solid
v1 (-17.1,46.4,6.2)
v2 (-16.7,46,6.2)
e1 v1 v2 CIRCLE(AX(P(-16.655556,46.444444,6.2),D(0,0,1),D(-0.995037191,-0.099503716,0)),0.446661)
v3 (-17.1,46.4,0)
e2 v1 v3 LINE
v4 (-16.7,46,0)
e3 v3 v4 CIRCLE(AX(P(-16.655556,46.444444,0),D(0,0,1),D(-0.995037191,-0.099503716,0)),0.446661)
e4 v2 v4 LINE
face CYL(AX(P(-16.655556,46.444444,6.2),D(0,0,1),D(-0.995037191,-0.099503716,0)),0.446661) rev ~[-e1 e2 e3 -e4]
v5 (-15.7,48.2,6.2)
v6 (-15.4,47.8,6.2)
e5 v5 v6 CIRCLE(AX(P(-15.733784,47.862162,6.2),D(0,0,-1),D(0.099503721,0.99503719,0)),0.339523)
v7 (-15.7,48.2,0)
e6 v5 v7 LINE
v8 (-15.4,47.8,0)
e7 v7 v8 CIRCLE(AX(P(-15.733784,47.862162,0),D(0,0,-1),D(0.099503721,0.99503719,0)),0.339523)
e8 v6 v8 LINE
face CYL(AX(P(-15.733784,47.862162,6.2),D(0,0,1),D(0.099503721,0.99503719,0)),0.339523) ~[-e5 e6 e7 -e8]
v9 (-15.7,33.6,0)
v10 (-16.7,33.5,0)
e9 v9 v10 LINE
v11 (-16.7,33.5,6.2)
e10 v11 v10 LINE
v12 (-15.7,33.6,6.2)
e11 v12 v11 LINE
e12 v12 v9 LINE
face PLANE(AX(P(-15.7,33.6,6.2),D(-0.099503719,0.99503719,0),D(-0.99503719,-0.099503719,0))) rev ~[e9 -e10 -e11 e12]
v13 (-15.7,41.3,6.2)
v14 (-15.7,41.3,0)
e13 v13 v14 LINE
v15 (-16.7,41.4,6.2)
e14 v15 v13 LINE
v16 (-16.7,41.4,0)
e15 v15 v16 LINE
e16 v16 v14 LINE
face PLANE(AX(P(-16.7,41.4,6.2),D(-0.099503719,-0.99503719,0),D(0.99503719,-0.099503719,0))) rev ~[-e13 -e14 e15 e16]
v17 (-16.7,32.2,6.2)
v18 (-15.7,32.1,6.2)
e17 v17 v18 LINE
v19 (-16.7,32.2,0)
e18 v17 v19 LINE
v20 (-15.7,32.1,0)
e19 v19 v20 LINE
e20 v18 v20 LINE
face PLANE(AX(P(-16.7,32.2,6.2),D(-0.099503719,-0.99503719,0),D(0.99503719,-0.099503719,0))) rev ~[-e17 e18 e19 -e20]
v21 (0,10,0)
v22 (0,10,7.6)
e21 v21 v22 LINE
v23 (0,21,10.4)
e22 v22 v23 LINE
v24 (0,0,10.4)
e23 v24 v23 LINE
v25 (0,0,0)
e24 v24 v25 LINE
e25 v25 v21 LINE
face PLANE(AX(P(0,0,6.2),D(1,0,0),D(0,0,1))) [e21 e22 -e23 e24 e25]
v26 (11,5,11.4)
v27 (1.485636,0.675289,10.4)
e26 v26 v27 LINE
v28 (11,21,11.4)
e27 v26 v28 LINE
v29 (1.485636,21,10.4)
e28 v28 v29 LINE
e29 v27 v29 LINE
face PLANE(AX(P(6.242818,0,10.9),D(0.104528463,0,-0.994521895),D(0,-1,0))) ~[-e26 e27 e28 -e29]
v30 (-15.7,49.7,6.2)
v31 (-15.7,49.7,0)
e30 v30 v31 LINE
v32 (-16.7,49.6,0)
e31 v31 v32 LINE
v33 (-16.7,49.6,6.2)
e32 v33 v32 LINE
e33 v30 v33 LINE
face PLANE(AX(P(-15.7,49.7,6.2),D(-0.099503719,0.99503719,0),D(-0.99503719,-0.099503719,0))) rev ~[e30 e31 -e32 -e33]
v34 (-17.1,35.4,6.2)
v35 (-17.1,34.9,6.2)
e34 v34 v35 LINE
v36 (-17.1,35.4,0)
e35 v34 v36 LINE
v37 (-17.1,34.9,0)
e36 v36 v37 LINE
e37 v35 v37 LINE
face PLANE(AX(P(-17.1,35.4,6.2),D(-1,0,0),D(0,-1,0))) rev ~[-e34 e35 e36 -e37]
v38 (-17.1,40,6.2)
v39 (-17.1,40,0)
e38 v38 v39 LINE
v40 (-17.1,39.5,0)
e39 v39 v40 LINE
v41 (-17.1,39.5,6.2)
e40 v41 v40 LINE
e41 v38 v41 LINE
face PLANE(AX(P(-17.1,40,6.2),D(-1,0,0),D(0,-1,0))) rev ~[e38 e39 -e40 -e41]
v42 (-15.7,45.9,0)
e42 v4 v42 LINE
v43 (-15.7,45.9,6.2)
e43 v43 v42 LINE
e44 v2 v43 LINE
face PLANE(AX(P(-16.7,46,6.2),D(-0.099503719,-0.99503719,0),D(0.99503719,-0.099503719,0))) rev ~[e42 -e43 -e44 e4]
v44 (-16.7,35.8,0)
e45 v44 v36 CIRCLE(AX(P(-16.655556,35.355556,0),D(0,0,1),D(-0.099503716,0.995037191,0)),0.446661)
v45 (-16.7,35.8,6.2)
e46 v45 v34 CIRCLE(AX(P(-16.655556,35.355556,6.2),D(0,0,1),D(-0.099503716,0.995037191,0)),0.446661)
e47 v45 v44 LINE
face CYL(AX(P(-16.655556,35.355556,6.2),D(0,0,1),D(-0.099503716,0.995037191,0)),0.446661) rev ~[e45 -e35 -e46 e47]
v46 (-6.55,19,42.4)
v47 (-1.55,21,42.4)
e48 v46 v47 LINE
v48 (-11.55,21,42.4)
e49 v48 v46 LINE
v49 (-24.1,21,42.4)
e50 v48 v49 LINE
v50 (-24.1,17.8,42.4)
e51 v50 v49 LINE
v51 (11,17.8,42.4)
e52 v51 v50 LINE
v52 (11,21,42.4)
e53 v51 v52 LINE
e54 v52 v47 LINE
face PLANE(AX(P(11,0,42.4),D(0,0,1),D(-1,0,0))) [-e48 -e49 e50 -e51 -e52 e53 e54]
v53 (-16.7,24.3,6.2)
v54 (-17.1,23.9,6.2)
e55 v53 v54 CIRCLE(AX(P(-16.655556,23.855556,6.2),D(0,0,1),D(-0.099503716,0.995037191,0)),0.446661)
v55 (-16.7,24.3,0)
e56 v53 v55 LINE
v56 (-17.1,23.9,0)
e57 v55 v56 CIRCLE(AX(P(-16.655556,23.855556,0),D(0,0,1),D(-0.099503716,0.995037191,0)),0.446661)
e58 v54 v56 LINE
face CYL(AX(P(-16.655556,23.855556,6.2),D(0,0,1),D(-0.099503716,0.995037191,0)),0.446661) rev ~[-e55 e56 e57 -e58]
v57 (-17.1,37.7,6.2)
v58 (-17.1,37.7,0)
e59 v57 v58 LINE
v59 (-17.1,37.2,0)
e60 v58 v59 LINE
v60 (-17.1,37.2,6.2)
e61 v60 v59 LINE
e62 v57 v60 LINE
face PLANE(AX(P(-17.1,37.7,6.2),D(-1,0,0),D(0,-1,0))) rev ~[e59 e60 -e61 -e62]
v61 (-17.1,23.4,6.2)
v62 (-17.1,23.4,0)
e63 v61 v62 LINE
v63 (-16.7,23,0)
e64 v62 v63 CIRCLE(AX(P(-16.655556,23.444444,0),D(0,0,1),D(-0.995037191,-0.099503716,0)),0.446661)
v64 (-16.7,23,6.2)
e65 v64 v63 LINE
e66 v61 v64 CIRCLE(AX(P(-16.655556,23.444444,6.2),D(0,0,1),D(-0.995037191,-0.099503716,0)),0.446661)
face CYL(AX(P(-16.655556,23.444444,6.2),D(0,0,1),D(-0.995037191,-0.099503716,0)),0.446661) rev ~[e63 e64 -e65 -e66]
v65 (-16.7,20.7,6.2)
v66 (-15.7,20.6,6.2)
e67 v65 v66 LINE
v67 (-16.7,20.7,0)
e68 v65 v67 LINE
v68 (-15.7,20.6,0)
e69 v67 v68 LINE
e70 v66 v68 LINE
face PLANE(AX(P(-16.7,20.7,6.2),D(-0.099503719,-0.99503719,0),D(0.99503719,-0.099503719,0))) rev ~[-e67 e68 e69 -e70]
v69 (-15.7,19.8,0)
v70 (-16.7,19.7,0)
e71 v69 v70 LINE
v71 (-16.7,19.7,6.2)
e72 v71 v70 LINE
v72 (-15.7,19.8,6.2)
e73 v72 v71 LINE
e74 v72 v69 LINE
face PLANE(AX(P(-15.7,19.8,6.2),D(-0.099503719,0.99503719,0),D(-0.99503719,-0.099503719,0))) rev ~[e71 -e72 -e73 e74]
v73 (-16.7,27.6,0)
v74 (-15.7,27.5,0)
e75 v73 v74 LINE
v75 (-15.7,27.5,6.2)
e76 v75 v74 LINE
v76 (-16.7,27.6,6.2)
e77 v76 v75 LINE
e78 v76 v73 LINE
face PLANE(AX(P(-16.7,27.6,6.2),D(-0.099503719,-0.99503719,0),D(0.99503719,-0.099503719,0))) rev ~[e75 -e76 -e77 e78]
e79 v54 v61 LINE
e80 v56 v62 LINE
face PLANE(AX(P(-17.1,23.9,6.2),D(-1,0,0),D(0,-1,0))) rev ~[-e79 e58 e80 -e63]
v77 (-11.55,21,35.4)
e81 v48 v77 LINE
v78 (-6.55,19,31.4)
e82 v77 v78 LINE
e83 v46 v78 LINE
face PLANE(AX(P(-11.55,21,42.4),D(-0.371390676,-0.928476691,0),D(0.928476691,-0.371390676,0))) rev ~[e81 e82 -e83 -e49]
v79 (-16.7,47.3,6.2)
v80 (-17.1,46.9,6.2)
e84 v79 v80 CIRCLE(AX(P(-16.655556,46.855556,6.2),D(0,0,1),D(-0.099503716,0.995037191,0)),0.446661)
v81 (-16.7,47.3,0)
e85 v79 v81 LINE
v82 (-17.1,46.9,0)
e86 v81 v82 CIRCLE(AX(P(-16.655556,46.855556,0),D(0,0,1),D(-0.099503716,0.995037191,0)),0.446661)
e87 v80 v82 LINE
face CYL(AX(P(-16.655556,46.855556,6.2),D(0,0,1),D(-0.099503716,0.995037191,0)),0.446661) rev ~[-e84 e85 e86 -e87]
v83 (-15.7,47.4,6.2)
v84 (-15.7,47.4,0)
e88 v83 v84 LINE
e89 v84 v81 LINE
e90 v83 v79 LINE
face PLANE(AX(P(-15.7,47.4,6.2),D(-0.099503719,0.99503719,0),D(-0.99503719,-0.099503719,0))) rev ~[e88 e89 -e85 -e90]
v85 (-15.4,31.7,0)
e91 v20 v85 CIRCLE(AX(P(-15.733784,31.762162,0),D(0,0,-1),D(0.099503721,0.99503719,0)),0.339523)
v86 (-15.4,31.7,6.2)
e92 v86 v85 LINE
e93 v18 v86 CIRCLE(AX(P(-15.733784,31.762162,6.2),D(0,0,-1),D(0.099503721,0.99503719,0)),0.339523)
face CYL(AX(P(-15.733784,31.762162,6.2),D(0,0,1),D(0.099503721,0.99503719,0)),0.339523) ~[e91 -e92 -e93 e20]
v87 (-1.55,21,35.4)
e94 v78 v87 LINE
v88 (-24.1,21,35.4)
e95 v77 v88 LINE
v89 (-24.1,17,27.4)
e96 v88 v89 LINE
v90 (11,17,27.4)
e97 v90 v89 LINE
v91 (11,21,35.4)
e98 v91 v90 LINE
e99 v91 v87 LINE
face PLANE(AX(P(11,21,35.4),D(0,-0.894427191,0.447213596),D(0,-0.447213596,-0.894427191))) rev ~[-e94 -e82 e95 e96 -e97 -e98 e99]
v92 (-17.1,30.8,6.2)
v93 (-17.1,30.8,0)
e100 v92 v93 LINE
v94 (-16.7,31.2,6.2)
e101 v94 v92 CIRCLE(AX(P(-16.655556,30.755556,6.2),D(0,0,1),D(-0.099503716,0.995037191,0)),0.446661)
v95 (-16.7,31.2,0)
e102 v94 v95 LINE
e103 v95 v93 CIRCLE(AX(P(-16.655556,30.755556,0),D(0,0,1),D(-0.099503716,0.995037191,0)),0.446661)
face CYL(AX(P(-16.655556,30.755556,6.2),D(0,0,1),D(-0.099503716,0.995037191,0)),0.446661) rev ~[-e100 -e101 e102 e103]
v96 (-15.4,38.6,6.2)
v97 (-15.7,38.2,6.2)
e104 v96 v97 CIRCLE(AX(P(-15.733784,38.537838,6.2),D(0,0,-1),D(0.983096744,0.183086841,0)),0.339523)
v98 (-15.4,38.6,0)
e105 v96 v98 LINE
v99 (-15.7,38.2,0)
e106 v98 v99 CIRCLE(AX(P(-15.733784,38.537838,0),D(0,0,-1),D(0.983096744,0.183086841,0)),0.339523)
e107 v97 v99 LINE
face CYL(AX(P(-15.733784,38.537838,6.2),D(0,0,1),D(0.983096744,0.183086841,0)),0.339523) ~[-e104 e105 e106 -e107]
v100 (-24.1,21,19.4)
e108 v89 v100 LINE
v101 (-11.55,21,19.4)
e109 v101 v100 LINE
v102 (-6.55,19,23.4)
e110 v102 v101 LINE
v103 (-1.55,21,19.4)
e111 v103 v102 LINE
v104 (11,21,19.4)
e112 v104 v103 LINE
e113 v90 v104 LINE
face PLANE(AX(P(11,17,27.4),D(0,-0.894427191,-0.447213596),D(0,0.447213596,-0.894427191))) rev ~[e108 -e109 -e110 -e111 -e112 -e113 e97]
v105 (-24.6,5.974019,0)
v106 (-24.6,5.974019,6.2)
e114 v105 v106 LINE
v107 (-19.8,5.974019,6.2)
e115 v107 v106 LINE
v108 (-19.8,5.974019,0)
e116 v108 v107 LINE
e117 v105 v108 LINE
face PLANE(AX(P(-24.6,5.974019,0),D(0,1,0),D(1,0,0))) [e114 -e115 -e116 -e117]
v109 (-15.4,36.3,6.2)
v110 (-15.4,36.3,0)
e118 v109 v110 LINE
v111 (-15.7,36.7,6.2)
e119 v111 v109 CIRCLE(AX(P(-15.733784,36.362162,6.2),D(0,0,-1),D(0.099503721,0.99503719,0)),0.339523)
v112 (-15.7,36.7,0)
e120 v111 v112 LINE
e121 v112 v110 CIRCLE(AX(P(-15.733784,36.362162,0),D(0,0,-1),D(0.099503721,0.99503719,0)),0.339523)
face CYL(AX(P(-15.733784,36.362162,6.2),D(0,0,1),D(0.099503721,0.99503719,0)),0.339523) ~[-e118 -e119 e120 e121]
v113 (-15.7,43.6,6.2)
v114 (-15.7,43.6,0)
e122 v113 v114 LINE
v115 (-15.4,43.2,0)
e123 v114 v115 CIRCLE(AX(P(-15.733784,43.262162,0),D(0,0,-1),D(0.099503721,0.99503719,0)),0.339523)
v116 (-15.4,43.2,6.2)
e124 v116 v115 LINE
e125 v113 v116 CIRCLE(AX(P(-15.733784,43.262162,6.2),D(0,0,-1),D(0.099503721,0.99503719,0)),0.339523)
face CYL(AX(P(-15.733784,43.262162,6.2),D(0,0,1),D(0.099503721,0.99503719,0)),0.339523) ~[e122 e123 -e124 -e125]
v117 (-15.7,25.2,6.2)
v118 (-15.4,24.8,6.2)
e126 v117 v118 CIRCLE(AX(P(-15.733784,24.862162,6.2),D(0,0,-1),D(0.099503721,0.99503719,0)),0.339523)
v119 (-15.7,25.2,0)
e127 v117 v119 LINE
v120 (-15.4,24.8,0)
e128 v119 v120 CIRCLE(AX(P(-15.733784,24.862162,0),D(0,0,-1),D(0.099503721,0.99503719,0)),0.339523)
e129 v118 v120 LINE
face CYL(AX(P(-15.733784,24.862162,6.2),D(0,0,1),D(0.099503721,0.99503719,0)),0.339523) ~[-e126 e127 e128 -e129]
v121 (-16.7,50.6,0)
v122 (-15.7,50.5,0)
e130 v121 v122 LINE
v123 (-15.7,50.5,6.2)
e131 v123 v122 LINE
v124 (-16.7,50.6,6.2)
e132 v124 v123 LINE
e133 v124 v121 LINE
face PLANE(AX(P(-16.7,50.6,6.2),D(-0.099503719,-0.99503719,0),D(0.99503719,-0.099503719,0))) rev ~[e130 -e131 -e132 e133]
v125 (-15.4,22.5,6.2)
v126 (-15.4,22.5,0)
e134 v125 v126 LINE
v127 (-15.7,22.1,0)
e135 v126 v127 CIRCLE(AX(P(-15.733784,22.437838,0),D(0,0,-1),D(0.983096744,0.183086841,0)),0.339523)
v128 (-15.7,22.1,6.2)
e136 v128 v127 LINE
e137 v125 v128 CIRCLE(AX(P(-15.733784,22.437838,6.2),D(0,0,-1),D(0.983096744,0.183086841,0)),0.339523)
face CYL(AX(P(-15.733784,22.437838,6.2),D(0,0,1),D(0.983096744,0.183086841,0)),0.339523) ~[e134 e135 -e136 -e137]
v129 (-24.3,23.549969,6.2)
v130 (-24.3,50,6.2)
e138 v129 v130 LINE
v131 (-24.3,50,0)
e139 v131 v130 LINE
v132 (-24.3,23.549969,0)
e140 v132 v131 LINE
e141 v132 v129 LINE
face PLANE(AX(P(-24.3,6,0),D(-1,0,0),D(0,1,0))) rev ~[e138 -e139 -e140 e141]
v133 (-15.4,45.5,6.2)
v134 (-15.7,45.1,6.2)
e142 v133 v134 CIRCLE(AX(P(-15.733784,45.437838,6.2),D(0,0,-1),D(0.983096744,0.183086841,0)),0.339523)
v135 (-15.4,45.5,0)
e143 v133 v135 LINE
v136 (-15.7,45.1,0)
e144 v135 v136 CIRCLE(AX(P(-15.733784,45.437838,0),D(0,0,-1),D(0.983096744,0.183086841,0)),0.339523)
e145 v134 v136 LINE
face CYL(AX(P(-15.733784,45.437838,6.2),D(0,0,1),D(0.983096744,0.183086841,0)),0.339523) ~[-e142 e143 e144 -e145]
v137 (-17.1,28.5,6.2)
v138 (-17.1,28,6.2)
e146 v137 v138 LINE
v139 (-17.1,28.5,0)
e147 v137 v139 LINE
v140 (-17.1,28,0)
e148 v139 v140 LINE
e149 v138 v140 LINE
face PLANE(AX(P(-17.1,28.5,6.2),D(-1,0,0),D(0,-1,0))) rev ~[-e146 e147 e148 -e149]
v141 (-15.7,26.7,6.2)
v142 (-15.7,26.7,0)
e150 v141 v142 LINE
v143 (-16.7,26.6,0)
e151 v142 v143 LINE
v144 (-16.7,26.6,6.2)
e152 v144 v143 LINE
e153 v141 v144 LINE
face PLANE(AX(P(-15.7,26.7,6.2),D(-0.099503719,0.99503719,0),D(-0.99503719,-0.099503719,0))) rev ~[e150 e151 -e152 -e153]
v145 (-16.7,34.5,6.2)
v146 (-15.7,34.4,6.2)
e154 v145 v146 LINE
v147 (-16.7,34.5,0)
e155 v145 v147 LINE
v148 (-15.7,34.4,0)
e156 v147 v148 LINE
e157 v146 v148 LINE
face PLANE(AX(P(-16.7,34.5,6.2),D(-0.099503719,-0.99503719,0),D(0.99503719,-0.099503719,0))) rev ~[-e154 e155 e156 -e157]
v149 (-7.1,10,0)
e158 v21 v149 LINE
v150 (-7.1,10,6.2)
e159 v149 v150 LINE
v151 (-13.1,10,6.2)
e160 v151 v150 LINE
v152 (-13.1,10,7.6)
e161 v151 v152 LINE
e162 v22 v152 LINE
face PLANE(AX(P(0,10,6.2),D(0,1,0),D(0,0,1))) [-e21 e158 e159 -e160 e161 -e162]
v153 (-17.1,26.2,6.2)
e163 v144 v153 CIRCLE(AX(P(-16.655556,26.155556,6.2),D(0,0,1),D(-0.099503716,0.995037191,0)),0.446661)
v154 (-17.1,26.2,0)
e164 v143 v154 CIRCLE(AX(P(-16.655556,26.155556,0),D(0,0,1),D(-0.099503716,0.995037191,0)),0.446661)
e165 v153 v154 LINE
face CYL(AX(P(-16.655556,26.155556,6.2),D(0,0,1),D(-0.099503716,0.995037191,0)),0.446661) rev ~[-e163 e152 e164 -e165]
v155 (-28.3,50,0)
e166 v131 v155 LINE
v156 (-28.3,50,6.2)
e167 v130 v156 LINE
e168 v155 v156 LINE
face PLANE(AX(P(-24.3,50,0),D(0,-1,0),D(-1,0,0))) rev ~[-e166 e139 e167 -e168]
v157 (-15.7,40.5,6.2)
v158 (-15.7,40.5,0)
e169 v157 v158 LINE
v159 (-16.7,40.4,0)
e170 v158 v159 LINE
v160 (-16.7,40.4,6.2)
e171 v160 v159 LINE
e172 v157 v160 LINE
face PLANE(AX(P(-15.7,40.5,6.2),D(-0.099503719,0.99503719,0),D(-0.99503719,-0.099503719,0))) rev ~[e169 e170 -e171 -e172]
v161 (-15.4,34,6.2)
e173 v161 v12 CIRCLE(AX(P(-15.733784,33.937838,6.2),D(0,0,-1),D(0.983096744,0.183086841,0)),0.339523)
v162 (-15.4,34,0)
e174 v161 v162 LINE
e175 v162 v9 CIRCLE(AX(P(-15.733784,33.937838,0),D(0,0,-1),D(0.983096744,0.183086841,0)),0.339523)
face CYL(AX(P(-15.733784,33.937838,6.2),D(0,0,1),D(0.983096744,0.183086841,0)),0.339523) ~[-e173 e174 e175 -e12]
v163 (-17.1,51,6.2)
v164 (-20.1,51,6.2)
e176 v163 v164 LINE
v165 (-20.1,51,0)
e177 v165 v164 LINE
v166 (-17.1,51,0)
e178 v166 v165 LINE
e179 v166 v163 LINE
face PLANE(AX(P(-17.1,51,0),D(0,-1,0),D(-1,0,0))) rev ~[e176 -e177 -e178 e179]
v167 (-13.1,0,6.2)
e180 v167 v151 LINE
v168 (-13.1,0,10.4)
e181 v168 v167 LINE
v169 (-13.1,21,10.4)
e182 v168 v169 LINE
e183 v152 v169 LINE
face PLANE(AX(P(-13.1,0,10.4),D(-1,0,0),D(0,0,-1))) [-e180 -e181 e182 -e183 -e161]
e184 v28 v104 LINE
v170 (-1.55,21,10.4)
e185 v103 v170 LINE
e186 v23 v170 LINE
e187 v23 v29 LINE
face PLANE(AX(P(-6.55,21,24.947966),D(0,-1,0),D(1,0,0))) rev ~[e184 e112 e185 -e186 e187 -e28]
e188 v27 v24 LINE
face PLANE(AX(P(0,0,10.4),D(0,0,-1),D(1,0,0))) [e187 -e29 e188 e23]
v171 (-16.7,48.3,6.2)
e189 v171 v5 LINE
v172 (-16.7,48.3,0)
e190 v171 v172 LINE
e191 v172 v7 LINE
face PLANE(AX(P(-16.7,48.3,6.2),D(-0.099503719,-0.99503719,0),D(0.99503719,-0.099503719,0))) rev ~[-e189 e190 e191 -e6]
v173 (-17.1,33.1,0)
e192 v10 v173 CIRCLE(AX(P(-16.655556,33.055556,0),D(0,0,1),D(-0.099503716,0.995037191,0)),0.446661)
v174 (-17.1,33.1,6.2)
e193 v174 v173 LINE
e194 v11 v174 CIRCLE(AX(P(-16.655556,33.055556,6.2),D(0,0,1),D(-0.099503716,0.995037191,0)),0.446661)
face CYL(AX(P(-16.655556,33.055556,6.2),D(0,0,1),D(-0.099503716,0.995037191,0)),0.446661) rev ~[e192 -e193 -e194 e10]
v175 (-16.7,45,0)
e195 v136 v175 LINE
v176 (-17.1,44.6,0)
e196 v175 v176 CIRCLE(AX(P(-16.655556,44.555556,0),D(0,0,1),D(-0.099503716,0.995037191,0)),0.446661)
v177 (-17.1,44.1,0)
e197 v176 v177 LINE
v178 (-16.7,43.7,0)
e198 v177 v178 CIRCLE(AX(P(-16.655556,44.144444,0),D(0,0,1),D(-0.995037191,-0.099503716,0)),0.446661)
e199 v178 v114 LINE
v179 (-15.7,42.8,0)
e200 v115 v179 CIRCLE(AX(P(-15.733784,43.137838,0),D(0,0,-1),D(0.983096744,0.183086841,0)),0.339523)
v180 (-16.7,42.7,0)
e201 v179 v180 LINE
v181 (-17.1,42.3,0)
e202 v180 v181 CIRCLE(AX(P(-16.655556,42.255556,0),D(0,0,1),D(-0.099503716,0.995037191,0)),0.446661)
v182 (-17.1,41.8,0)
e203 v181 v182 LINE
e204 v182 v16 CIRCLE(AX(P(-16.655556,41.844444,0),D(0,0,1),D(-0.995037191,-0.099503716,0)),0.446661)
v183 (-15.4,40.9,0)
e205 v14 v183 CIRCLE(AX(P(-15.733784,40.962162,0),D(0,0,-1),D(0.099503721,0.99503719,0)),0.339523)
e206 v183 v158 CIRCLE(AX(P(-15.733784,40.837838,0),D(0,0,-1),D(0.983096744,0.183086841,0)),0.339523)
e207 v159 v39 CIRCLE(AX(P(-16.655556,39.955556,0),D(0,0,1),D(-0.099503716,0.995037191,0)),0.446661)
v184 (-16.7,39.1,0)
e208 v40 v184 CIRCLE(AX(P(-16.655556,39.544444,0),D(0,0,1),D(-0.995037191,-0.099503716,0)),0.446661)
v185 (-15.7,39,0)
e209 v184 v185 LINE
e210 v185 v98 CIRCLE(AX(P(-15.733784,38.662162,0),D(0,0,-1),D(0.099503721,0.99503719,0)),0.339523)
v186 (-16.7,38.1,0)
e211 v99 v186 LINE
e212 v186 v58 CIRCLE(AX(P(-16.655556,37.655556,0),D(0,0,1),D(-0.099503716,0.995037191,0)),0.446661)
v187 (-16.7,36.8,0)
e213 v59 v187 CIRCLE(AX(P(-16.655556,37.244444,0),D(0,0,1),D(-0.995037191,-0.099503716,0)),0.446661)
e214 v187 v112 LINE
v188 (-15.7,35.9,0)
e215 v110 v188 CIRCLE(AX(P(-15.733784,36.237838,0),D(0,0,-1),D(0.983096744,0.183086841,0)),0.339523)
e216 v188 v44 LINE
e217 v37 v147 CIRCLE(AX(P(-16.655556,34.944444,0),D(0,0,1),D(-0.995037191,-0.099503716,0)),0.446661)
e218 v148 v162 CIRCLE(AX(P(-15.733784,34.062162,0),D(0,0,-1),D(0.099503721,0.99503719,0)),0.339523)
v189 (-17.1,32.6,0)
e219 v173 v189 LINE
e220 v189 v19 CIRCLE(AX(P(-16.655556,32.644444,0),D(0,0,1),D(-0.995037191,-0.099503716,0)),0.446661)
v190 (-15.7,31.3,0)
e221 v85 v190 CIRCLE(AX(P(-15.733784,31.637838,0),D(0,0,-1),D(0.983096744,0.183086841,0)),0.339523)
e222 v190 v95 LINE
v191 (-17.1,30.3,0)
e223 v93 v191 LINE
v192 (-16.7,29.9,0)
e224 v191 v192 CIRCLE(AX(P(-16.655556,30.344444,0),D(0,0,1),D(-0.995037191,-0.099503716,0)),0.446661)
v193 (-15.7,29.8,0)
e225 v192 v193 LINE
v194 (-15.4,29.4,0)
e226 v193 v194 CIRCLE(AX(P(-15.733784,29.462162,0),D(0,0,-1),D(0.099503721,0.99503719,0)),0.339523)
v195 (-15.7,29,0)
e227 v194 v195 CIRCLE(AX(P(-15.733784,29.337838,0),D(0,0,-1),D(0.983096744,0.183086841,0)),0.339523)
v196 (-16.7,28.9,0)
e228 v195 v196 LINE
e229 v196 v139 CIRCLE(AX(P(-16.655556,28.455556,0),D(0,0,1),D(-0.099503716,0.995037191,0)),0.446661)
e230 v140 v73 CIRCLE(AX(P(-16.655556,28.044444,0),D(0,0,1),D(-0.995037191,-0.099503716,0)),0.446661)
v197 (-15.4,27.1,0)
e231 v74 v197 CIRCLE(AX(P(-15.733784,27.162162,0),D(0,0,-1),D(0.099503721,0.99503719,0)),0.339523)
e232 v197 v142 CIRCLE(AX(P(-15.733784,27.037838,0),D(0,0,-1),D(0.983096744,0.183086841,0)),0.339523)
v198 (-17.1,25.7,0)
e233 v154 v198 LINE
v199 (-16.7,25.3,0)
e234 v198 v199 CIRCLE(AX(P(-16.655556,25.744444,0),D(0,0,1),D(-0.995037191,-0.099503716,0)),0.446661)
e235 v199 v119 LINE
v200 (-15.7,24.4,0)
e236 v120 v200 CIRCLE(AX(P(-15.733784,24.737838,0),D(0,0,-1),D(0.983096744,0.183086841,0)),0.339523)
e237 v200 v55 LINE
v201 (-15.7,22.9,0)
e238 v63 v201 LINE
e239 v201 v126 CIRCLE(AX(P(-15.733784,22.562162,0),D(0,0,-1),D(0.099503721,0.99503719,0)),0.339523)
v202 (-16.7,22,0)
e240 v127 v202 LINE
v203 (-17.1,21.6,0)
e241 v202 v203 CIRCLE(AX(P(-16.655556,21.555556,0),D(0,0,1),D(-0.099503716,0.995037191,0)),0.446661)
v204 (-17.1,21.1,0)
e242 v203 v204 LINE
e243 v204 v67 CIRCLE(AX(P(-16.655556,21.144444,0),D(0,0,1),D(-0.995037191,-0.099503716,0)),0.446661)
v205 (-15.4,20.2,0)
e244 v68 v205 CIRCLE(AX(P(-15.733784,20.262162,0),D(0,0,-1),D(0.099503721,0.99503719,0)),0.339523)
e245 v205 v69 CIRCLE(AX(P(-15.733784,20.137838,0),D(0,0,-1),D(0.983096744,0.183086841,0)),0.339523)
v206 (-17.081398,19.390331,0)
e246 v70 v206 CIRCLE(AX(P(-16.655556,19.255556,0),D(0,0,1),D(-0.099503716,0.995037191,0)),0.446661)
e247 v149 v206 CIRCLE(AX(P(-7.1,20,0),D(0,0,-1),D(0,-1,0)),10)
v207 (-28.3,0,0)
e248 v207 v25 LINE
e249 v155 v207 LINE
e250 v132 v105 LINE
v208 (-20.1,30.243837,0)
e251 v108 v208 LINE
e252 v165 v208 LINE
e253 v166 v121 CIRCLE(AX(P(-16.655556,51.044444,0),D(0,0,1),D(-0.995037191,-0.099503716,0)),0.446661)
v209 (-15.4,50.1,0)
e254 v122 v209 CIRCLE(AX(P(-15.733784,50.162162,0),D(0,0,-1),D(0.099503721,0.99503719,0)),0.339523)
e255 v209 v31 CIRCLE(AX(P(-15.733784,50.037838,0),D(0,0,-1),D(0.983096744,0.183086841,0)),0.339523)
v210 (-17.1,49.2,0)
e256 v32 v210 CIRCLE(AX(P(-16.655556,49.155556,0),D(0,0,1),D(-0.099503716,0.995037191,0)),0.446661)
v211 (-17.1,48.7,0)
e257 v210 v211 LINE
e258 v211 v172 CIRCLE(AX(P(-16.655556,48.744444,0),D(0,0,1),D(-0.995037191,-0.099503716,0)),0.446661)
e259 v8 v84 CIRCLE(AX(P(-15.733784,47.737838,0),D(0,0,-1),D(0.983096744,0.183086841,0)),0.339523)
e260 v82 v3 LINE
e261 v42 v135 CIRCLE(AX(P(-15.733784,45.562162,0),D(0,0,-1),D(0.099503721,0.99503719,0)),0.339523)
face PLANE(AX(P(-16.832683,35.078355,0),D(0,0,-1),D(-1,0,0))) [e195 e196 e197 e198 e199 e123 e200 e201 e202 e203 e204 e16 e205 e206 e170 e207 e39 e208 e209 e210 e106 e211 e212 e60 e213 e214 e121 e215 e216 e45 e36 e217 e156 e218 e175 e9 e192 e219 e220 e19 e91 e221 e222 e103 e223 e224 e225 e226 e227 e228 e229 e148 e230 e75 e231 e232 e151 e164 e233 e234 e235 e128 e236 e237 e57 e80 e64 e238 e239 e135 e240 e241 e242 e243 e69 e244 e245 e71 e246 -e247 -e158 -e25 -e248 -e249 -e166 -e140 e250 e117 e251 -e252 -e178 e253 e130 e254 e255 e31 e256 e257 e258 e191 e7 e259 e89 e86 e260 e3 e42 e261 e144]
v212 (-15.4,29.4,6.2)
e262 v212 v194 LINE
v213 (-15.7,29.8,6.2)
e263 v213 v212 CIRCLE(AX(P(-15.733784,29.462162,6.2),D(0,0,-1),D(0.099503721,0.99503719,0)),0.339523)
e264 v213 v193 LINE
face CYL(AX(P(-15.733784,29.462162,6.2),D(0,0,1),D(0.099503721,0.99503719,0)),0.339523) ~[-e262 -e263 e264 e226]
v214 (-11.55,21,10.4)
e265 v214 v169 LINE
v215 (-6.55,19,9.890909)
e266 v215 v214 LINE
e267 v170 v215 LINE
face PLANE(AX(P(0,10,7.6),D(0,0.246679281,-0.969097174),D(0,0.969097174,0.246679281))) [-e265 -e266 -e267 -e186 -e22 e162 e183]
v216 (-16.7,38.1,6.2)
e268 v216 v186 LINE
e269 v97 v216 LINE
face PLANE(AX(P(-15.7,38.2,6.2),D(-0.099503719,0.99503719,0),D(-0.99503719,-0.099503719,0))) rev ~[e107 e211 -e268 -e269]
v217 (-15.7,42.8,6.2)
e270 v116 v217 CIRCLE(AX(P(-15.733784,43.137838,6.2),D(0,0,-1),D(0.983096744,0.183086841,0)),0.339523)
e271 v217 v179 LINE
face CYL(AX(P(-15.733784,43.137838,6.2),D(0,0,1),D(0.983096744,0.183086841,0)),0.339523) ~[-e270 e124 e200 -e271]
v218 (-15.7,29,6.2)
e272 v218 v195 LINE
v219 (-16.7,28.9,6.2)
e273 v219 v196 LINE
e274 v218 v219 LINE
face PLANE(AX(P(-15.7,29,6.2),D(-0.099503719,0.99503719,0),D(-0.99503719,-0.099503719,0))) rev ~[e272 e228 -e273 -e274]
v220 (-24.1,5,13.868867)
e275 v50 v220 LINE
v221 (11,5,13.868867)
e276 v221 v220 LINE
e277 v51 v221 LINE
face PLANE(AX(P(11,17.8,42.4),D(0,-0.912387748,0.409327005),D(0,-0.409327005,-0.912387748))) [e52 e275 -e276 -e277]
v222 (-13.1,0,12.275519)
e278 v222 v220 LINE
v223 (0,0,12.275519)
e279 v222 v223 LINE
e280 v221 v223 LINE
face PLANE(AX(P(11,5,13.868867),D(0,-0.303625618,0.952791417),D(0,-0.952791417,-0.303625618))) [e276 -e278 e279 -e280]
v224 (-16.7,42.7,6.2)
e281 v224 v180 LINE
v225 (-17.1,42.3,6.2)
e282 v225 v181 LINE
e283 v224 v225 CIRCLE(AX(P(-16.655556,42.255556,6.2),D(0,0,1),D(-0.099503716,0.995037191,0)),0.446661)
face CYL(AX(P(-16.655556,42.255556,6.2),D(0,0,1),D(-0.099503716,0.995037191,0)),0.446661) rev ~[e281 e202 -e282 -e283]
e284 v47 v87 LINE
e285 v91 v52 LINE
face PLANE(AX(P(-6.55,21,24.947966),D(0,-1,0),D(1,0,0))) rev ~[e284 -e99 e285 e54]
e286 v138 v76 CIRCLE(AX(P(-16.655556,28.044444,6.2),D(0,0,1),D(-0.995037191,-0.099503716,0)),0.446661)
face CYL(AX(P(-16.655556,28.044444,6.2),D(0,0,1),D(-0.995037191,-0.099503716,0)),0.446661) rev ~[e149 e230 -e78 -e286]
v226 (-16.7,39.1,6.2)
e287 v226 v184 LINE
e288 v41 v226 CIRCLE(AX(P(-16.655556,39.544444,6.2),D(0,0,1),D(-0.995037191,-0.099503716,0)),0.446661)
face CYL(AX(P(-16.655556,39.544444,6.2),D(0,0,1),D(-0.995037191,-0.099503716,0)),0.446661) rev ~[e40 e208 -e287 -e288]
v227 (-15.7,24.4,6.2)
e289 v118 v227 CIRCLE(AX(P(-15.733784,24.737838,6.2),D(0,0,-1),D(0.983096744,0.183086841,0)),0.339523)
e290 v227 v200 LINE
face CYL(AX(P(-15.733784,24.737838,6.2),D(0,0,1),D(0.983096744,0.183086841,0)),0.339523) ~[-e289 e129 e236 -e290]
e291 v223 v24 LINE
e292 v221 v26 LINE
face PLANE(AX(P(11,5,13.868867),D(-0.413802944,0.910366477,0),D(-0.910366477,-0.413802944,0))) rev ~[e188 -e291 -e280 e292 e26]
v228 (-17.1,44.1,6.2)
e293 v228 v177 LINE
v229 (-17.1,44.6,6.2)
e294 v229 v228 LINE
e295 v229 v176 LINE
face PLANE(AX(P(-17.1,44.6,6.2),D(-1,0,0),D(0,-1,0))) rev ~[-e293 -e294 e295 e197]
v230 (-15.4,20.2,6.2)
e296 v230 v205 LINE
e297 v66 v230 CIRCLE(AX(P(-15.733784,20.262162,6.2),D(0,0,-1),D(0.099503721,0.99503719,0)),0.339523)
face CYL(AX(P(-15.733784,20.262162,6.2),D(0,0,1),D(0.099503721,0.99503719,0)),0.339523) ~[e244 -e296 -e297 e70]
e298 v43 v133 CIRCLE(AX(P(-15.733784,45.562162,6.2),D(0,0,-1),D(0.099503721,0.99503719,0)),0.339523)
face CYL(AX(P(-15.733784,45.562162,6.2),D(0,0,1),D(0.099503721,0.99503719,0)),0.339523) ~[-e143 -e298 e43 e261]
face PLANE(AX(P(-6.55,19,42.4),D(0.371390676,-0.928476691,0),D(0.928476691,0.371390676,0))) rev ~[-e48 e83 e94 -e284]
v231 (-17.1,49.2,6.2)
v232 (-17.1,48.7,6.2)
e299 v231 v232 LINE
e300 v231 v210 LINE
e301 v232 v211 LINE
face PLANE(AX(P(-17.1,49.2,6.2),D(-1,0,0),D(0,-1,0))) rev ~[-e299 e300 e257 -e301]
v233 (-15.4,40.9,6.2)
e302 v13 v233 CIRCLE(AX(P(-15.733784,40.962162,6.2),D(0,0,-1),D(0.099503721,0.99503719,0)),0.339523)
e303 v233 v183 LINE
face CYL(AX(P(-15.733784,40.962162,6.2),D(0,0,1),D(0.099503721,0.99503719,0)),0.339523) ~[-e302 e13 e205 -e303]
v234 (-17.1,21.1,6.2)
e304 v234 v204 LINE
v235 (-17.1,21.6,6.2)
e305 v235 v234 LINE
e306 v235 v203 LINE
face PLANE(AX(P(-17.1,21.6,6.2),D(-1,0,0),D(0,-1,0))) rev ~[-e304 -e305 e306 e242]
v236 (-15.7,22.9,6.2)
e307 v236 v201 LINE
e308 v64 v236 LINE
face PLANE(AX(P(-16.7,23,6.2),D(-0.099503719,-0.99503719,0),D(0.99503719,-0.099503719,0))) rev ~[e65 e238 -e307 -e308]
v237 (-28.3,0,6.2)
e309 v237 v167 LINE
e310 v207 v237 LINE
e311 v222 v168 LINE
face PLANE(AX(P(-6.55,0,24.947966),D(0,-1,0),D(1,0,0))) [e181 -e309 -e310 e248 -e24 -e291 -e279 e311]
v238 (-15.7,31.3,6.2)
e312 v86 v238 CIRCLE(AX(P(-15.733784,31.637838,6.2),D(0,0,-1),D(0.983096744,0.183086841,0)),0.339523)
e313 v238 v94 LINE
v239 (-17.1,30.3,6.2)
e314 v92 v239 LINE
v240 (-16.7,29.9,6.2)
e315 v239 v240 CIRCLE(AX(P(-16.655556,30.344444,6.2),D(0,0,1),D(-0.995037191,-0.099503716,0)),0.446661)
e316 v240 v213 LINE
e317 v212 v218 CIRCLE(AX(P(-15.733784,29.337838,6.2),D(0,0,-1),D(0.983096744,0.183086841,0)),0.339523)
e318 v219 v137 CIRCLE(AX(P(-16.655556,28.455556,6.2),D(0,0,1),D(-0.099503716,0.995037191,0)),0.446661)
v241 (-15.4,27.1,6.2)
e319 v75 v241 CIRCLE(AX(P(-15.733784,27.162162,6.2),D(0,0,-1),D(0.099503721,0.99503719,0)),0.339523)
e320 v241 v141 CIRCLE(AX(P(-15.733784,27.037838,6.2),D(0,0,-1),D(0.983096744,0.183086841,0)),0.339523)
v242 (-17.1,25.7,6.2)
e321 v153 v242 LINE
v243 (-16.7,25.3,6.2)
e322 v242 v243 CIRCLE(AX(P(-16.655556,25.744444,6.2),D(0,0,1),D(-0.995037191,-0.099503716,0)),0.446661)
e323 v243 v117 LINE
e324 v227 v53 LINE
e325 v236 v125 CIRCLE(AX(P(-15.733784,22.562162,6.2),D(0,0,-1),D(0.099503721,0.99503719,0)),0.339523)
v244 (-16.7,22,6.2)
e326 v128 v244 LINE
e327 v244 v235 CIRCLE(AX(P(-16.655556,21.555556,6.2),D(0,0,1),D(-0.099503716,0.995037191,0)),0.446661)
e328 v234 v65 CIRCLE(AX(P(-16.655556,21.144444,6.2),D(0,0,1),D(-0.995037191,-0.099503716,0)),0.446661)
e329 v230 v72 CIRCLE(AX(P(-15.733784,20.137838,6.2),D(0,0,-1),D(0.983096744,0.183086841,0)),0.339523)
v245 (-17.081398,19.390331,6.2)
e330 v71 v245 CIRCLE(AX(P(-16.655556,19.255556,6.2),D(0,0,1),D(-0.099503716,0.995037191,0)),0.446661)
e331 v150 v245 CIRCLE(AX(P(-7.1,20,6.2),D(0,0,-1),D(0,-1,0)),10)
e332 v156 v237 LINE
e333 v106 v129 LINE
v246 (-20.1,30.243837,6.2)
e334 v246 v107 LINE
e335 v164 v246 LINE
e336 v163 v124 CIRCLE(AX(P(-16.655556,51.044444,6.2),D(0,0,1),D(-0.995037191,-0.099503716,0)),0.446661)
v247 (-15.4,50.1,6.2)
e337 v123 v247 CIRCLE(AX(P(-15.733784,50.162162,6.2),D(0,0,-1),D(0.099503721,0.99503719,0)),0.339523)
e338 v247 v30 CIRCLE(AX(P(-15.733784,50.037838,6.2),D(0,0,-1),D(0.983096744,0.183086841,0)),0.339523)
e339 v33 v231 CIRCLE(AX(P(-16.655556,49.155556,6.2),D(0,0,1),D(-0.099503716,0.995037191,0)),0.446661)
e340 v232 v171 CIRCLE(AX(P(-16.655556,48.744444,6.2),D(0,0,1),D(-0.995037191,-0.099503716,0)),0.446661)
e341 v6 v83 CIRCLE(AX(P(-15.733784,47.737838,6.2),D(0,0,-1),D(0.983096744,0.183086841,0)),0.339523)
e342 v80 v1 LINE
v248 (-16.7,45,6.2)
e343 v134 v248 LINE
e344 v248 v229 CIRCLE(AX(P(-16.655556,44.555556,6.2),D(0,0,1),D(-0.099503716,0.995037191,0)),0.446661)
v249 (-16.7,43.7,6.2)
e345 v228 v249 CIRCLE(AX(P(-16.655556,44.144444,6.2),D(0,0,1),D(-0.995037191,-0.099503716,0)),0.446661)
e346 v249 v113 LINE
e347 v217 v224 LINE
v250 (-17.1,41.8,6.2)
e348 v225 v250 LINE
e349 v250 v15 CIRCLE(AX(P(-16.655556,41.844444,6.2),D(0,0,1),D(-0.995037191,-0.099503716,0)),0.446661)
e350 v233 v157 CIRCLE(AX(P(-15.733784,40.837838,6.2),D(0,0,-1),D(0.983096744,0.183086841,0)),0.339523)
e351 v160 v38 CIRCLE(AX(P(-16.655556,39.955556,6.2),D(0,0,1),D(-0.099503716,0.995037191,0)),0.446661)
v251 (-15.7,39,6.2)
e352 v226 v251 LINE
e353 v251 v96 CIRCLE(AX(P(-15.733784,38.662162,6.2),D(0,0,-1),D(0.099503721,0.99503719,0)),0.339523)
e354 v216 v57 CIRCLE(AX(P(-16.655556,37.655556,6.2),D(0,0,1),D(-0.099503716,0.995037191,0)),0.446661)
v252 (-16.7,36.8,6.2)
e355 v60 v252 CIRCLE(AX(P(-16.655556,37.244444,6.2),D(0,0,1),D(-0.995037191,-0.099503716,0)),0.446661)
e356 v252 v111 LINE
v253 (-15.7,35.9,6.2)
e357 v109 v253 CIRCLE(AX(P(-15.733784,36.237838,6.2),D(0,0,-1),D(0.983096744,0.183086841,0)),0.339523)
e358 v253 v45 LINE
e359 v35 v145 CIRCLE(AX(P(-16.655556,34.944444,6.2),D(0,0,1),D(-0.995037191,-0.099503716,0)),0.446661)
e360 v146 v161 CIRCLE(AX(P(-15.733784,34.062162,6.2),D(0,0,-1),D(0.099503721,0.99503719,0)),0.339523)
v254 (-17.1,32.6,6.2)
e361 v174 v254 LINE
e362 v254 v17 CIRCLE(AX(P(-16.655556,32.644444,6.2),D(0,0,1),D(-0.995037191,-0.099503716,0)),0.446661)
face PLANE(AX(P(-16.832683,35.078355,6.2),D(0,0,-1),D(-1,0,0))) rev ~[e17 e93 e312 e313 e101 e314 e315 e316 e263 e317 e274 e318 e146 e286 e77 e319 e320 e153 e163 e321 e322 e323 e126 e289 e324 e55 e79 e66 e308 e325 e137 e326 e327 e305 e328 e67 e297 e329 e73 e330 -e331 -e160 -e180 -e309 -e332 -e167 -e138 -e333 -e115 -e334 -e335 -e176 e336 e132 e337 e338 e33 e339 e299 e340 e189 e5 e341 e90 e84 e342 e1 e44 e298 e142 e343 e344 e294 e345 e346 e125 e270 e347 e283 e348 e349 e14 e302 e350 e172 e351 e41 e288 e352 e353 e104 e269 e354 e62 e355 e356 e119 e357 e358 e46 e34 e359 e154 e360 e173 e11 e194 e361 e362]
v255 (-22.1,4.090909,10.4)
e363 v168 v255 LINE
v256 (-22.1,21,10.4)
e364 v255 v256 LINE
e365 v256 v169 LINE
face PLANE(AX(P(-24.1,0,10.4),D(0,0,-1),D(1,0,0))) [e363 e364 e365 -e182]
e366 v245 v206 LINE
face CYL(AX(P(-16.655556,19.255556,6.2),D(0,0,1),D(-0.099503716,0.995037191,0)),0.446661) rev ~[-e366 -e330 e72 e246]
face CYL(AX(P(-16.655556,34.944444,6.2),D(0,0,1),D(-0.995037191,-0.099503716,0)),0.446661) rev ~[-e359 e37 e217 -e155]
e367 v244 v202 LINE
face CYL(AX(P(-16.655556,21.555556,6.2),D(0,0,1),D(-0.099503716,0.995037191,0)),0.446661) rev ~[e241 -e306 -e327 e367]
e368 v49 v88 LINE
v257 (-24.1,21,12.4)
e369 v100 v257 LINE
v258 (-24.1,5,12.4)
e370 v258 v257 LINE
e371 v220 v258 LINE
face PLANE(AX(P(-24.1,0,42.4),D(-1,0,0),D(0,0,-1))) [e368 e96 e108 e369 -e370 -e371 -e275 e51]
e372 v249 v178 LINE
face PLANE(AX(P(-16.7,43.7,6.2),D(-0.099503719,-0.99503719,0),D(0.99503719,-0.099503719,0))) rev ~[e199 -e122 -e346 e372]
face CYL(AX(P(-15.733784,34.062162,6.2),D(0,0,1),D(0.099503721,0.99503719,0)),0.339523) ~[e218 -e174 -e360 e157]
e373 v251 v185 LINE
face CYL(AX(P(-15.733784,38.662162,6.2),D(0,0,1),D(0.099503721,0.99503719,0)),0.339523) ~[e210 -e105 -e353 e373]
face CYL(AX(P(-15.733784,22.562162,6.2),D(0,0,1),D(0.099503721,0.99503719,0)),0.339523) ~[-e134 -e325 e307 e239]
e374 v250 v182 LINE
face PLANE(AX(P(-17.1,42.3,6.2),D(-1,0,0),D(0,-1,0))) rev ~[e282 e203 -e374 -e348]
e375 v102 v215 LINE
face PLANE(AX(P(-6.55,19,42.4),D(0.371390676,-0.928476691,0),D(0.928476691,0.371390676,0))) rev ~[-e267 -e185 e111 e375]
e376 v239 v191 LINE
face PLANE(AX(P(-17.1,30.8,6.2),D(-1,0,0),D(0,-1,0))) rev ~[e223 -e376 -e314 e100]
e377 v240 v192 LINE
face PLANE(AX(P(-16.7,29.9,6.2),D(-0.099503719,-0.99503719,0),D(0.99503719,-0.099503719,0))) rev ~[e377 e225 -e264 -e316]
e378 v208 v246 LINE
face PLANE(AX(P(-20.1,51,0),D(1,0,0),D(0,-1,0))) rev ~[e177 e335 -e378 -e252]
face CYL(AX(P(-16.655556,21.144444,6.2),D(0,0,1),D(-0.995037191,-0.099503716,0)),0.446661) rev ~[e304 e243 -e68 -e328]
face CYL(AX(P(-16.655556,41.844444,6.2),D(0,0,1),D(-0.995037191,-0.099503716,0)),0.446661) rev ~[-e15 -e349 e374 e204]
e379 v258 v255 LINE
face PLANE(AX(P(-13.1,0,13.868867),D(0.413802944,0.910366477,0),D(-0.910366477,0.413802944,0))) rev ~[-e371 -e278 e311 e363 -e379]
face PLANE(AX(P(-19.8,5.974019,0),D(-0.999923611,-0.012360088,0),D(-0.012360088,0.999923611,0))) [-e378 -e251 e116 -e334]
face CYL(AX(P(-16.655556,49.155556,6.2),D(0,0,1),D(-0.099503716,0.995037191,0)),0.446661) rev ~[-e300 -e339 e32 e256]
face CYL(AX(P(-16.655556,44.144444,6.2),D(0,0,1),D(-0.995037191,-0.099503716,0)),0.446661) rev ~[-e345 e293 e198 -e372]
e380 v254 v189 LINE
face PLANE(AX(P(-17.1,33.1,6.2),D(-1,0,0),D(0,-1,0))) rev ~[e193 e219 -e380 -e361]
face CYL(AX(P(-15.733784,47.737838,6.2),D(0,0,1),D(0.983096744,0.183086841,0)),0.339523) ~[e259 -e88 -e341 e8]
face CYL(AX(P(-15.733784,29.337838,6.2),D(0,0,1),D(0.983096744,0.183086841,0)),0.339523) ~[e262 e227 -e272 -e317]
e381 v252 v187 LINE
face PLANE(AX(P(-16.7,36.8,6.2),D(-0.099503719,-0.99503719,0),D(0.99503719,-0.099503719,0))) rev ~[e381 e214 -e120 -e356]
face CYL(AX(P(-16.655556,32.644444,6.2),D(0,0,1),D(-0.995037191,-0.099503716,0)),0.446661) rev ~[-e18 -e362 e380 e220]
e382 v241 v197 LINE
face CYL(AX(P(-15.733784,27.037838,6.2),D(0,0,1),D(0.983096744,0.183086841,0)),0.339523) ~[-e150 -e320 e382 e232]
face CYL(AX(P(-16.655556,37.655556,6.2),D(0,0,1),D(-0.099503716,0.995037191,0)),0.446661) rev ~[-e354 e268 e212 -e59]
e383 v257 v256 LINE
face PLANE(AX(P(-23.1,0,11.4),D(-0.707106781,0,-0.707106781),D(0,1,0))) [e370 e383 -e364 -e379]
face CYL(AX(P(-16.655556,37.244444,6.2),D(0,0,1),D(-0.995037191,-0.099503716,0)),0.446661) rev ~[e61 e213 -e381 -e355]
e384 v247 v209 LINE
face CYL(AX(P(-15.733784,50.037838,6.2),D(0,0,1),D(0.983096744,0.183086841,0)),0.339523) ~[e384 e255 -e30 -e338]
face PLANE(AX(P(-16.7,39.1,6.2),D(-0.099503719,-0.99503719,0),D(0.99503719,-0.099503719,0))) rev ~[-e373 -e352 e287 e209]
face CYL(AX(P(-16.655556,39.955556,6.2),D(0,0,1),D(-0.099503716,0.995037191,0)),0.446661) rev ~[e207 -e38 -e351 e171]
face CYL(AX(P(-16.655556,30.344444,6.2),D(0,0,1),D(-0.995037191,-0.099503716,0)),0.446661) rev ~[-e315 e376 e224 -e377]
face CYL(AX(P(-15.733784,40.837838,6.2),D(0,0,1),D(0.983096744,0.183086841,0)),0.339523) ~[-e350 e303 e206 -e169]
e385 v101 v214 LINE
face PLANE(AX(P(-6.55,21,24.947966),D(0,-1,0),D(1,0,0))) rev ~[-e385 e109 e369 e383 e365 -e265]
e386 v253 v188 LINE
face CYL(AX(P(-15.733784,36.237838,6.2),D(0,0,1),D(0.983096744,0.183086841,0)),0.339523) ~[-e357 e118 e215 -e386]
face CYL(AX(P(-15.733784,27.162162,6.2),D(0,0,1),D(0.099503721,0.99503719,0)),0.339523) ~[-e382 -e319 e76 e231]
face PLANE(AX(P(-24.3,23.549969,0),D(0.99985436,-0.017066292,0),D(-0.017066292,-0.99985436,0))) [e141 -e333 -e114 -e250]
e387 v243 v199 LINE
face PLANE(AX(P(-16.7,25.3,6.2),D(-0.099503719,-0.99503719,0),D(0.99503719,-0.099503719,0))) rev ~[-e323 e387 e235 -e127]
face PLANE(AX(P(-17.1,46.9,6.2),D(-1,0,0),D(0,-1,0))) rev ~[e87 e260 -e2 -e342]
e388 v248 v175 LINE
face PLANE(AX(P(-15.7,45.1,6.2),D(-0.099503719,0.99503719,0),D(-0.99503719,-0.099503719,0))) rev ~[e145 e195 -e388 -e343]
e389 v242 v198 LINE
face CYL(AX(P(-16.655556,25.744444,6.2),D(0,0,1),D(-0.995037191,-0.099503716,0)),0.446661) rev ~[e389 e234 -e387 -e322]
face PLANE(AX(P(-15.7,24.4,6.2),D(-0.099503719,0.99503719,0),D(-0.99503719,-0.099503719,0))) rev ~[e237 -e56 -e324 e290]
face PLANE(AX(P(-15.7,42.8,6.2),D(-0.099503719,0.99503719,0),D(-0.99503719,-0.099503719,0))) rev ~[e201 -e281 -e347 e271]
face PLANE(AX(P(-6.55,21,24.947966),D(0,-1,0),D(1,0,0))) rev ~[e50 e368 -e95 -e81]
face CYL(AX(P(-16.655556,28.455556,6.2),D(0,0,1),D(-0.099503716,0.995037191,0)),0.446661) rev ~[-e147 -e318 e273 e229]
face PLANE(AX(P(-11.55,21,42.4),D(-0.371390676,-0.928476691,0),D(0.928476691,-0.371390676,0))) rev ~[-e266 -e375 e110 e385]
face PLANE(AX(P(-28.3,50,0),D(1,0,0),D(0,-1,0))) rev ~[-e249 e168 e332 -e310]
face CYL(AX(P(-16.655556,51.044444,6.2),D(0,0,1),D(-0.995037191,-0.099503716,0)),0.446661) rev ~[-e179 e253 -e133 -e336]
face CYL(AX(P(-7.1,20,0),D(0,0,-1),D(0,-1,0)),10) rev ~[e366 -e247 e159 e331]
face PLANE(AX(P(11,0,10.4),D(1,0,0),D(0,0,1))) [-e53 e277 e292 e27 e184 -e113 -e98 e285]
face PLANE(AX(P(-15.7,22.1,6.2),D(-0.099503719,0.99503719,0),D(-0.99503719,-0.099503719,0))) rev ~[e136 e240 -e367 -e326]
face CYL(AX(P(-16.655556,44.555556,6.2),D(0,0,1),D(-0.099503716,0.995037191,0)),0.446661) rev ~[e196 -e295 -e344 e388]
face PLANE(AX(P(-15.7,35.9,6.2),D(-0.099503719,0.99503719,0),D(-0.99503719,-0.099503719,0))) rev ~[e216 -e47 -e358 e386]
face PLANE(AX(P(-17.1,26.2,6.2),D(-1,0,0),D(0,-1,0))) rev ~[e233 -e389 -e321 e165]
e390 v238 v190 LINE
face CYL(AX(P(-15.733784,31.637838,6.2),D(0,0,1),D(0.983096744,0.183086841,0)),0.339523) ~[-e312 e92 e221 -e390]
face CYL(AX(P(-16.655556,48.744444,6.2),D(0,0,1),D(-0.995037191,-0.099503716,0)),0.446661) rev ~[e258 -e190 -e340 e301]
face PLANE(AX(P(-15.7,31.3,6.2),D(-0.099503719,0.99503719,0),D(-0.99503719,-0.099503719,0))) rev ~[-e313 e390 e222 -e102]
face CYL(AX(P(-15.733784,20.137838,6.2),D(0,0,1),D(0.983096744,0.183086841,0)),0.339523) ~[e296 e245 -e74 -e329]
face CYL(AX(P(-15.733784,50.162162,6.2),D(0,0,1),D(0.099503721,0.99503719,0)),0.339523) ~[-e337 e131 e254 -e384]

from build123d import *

# Parameters (mm, degrees)
BOSS_EXTRUDE1_DEPTH = 6.2
BOSS_EXTRUDE2_DEPTH = 21
CHAMFER1_SIZE       = 5
CHAMFER1_SIZE2      = 28.356409098
CUT_EXTRUDE1_REACH  = 74.109
CHAMFER2_SIZE       = 1
CHAMFER2_SIZE2      = 9.514364454
CHAMFER3_SIZE       = 2
CUT_EXTRUDE2_REACH  = 79.092
CUT_EXTRUDE3_START  = -3.468867
CUT_EXTRUDE3_DEPTH  = 3.468867
BOSS_EXTRUDE3_DEPTH = 6.2
CUT_EXTRUDE4_REACH  = 79.092
CUT_EXTRUDE5_DEPTH  = 73.108598655
CUT_EXTRUDE6_REACH  = 74.109


with BuildPart() as part:
    # Sketch1 → Boss-Extrude1 (new body)
    with BuildSketch(Plane.XY):
        with BuildLine():
            Line((-28.3, 0), (0, 0))
            Line((0, 0), (0, 10))
            Line((0, 10), (-7.1, 10))
            ThreePointArc((-7.1, 10), (-14.171067812, 12.928932188), (-17.1, 20))
            Line((-17.1, 20), (-17.1, 51))
            Line((-17.1, 51), (-20.1, 51))
            Line((-20.1, 51), (-20.1, 6))
            Line((-20.1, 6), (-24.3, 6))
            Line((-24.3, 6), (-24.3, 50))
            Line((-24.3, 50), (-28.3, 50))
            Line((-28.3, 50), (-28.3, 0))
        make_face()
    extrude(amount=BOSS_EXTRUDE1_DEPTH)

    # Sketch2 → Boss-Extrude2 (add)
    with BuildSketch(Plane.XZ):
        Polygon((0, 6.2), (0, 10.4), (11, 10.4), (11, 42.4), (-24.1, 42.4), (-24.1, 10.4), (-13.1, 10.4), (-13.1, 6.2), align=None)
    extrude(amount=-BOSS_EXTRUDE2_DEPTH)

    # Chamfer1
    chamfer1_edges = [part.edges().sort_by_distance(p)[0] for p in [
        (-6.55, 0, 42.4),
    ]]
    chamfer1_side = [part.faces().sort_by_distance(p)[0] for p in [
        (-6.55, 10.5, 42.4),
    ]]
    chamfer(chamfer1_edges, length=CHAMFER1_SIZE, length2=CHAMFER1_SIZE2, reference=chamfer1_side[0])

    # Sketch3 → Cut-Extrude1 (cut, up to next)
    with BuildSketch(Plane(origin=(0, 0, 0), x_dir=(0, 0, -1), z_dir=(1, 0, 0)), mode=Mode.PRIVATE) as cut_extrude1_sk1:
        Polygon((-6.2, 10), (-7.6, 10), (-10.4, 21), (-6.2, 21), align=None)
    cut_extrude1_tool1 = extrude(cut_extrude1_sk1.sketch, amount=-CUT_EXTRUDE1_REACH, mode=Mode.PRIVATE) & part.part
    add(cut_extrude1_tool1.solids().sort_by_distance((0, 16.416667, 7.716667))[0], mode=Mode.SUBTRACT)

    # Chamfer2
    chamfer2_edges = [part.edges().sort_by_distance(p)[0] for p in [
        (11, 10.5, 10.4),
    ]]
    chamfer2_side = [part.faces().sort_by_distance(p)[0] for p in [
        (11, 11.541747932, 25.62778603),
    ]]
    chamfer(chamfer2_edges, length=CHAMFER2_SIZE, length2=CHAMFER2_SIZE2, reference=chamfer2_side[0])

    # Chamfer3
    chamfer3_edges = [part.edges().sort_by_distance(p)[0] for p in [
        (-24.1, 10.5, 10.4),
    ]]
    chamfer(chamfer3_edges, length=CHAMFER3_SIZE)

    # Sketch5 → Cut-Extrude2 (cut, up to next)
    with BuildSketch(Plane(origin=(11, 0, 0), x_dir=(0, 0, -1), z_dir=(1, 0, 0)), mode=Mode.PRIVATE) as cut_extrude2_sk1:
        Polygon((-42.4, 17.8), (-13.86886709, 5), (-10.966215349, -4.108657177), (-44.036924755, 0.937700744), align=None)
    cut_extrude2_tool1 = extrude(cut_extrude2_sk1.sketch, amount=-CUT_EXTRUDE2_REACH, mode=Mode.PRIVATE) & part.part
    add(cut_extrude2_tool1.solids().sort_by_distance((11, 5.258773, 29.627692))[0], mode=Mode.SUBTRACT)

    # Sketch6 → Cut-Extrude3 (cut)
    with BuildSketch(Plane(origin=(0, 0, 10.4), x_dir=(-1, 0, 0), z_dir=(0, 0, -1)).offset(CUT_EXTRUDE3_START)):
        Polygon((13.1, 0), (24.1, 5), (37.198342989, 5), (28.62602328, -4.522208447), (-13.825974113, -5.629287686), (-20.705007466, 5), (-11, 5), (0, 0), align=None)
    extrude(amount=CUT_EXTRUDE3_DEPTH, mode=Mode.SUBTRACT)

    # Sketch7 → Boss-Extrude3 (add)
    with BuildSketch(Plane.XY.offset(6.2)):
        with BuildLine():
            Line((-16.7, 50.6), (-15.7, 50.5))
            ThreePointArc((-15.7, 50.5), (-15.462165524, 50.365875857), (-15.4, 50.1))
            ThreePointArc((-15.4, 50.1), (-15.462165524, 49.834124143), (-15.7, 49.7))
            Line((-15.7, 49.7), (-16.7, 49.6))
            ThreePointArc((-16.7, 49.6), (-16.971392676, 49.471392676), (-17.1, 49.2))
            Line((-17.1, 49.2), (-17.1, 48.7))
            ThreePointArc((-17.1, 48.7), (-16.971392676, 48.428607324), (-16.7, 48.3))
            Line((-16.7, 48.3), (-15.7, 48.2))
            ThreePointArc((-15.7, 48.2), (-15.462165524, 48.065875857), (-15.4, 47.8))
            ThreePointArc((-15.4, 47.8), (-15.462165524, 47.534124143), (-15.7, 47.4))
            Line((-15.7, 47.4), (-16.7, 47.3))
            ThreePointArc((-16.7, 47.3), (-16.971392676, 47.171392676), (-17.1, 46.9))
            Line((-17.1, 46.9), (-17.1, 46.4))
            ThreePointArc((-17.1, 46.4), (-16.971392676, 46.128607324), (-16.7, 46))
            Line((-16.7, 46), (-15.7, 45.9))
            ThreePointArc((-15.7, 45.9), (-15.462165524, 45.765875857), (-15.4, 45.5))
            ThreePointArc((-15.4, 45.5), (-15.462165524, 45.234124143), (-15.7, 45.1))
            Line((-15.7, 45.1), (-16.7, 45))
            ThreePointArc((-16.7, 45), (-16.971392676, 44.871392676), (-17.1, 44.6))
            Line((-17.1, 44.6), (-17.1, 44.1))
            ThreePointArc((-17.1, 44.1), (-16.971392676, 43.828607324), (-16.7, 43.7))
            Line((-16.7, 43.7), (-15.7, 43.6))
            ThreePointArc((-15.7, 43.6), (-15.462165524, 43.465875857), (-15.4, 43.2))
            ThreePointArc((-15.4, 43.2), (-15.462165524, 42.934124143), (-15.7, 42.8))
            Line((-15.7, 42.8), (-16.7, 42.7))
            ThreePointArc((-16.7, 42.7), (-16.971392676, 42.571392676), (-17.1, 42.3))
            Line((-17.1, 42.3), (-17.1, 41.8))
            ThreePointArc((-17.1, 41.8), (-16.971392676, 41.528607324), (-16.7, 41.4))
            Line((-16.7, 41.4), (-15.7, 41.3))
            ThreePointArc((-15.7, 41.3), (-15.462165524, 41.165875857), (-15.4, 40.9))
            ThreePointArc((-15.4, 40.9), (-15.462165524, 40.634124143), (-15.7, 40.5))
            Line((-15.7, 40.5), (-16.7, 40.4))
            ThreePointArc((-16.7, 40.4), (-16.971392676, 40.271392676), (-17.1, 40))
            Line((-17.1, 40), (-17.1, 39.5))
            ThreePointArc((-17.1, 39.5), (-16.971392676, 39.228607324), (-16.7, 39.1))
            Line((-16.7, 39.1), (-15.7, 39))
            ThreePointArc((-15.7, 39), (-15.462165524, 38.865875857), (-15.4, 38.6))
            ThreePointArc((-15.4, 38.6), (-15.462165524, 38.334124143), (-15.7, 38.2))
            Line((-15.7, 38.2), (-16.7, 38.1))
            ThreePointArc((-16.7, 38.1), (-16.971392676, 37.971392676), (-17.1, 37.7))
            Line((-17.1, 37.7), (-17.1, 37.2))
            ThreePointArc((-17.1, 37.2), (-16.971392676, 36.928607324), (-16.7, 36.8))
            Line((-16.7, 36.8), (-15.7, 36.7))
            ThreePointArc((-15.7, 36.7), (-15.462165524, 36.565875857), (-15.4, 36.3))
            ThreePointArc((-15.4, 36.3), (-15.462165524, 36.034124143), (-15.7, 35.9))
            Line((-15.7, 35.9), (-16.7, 35.8))
            ThreePointArc((-16.7, 35.8), (-16.971392676, 35.671392676), (-17.1, 35.4))
            Line((-17.1, 35.4), (-17.1, 34.9))
            ThreePointArc((-17.1, 34.9), (-16.971392676, 34.628607324), (-16.7, 34.5))
            Line((-16.7, 34.5), (-15.7, 34.4))
            ThreePointArc((-15.7, 34.4), (-15.462165524, 34.265875857), (-15.4, 34))
            ThreePointArc((-15.4, 34), (-15.462165524, 33.734124143), (-15.7, 33.6))
            Line((-15.7, 33.6), (-16.7, 33.5))
            ThreePointArc((-16.7, 33.5), (-16.971392676, 33.371392676), (-17.1, 33.1))
            Line((-17.1, 33.1), (-17.1, 32.6))
            ThreePointArc((-17.1, 32.6), (-16.971392676, 32.328607324), (-16.7, 32.2))
            Line((-16.7, 32.2), (-15.7, 32.1))
            ThreePointArc((-15.7, 32.1), (-15.462165524, 31.965875857), (-15.4, 31.7))
            ThreePointArc((-15.4, 31.7), (-15.462165524, 31.434124143), (-15.7, 31.3))
            Line((-15.7, 31.3), (-16.7, 31.2))
            ThreePointArc((-16.7, 31.2), (-16.971392676, 31.071392676), (-17.1, 30.8))
            Line((-17.1, 30.8), (-17.1, 30.3))
            ThreePointArc((-17.1, 30.3), (-16.971392676, 30.028607324), (-16.7, 29.9))
            Line((-16.7, 29.9), (-15.7, 29.8))
            ThreePointArc((-15.7, 29.8), (-15.462165524, 29.665875857), (-15.4, 29.4))
            ThreePointArc((-15.4, 29.4), (-15.462165524, 29.134124143), (-15.7, 29))
            Line((-15.7, 29), (-16.7, 28.9))
            ThreePointArc((-16.7, 28.9), (-16.971392676, 28.771392676), (-17.1, 28.5))
            Line((-17.1, 28.5), (-17.1, 28))
            ThreePointArc((-17.1, 28), (-16.971392676, 27.728607324), (-16.7, 27.6))
            Line((-16.7, 27.6), (-15.7, 27.5))
            ThreePointArc((-15.7, 27.5), (-15.462165524, 27.365875857), (-15.4, 27.1))
            ThreePointArc((-15.4, 27.1), (-15.462165524, 26.834124143), (-15.7, 26.7))
            Line((-15.7, 26.7), (-16.7, 26.6))
            ThreePointArc((-16.7, 26.6), (-16.971392676, 26.471392676), (-17.1, 26.2))
            Line((-17.1, 26.2), (-17.1, 25.7))
            ThreePointArc((-17.1, 25.7), (-16.971392676, 25.428607324), (-16.7, 25.3))
            Line((-16.7, 25.3), (-15.7, 25.2))
            ThreePointArc((-15.7, 25.2), (-15.462165524, 25.065875857), (-15.4, 24.8))
            ThreePointArc((-15.4, 24.8), (-15.462165524, 24.534124143), (-15.7, 24.4))
            Line((-15.7, 24.4), (-16.7, 24.3))
            ThreePointArc((-16.7, 24.3), (-16.971392676, 24.171392676), (-17.1, 23.9))
            Line((-17.1, 23.9), (-17.1, 23.4))
            ThreePointArc((-17.1, 23.4), (-16.971392676, 23.128607324), (-16.7, 23))
            Line((-16.7, 23), (-15.7, 22.9))
            ThreePointArc((-15.7, 22.9), (-15.462165524, 22.765875857), (-15.4, 22.5))
            ThreePointArc((-15.4, 22.5), (-15.462165524, 22.234124143), (-15.7, 22.1))
            Line((-15.7, 22.1), (-16.7, 22))
            ThreePointArc((-16.7, 22), (-16.971392676, 21.871392676), (-17.1, 21.6))
            Line((-17.1, 21.6), (-17.1, 21.1))
            ThreePointArc((-17.1, 21.1), (-16.971392676, 20.828607324), (-16.7, 20.7))
            Line((-16.7, 20.7), (-15.7, 20.6))
            ThreePointArc((-15.7, 20.6), (-15.462165524, 20.465875857), (-15.4, 20.2))
            ThreePointArc((-15.4, 20.2), (-15.462165524, 19.934124143), (-15.7, 19.8))
            Line((-15.7, 19.8), (-16.7, 19.7))
            ThreePointArc((-16.7, 19.7), (-16.971392676, 19.571392676), (-17.1, 19.3))
            Line((-17.1, 19.3), (-17.1, 18.8))
            Line((-17.1, 18.8), (-18.685, 49.2))
            Line((-18.685, 49.2), (-17.1, 51))
            ThreePointArc((-17.1, 51), (-16.971392676, 50.728607324), (-16.7, 50.6))
        make_face()
    extrude(amount=-BOSS_EXTRUDE3_DEPTH)

    # Sketch8 → Cut-Extrude4 (cut, up to next)
    with BuildSketch(Plane(origin=(11, 0, 0), x_dir=(0, 0, -1), z_dir=(1, 0, 0)), mode=Mode.PRIVATE) as cut_extrude4_sk1:
        Polygon((-35.4, 21), (-27.4, 17), (-19.4, 21), align=None)
    cut_extrude4_tool1 = extrude(cut_extrude4_sk1.sketch, amount=-CUT_EXTRUDE4_REACH, mode=Mode.PRIVATE) & part.part
    add(cut_extrude4_tool1.solids().sort_by_distance((11, 19.666667, 27.4))[0], mode=Mode.SUBTRACT)

    # Sketch10 → Cut-Extrude5 (cut, through all)
    with BuildSketch(Plane.XY.offset(42.4)):
        Polygon((-11.55, 21), (-6.55, 19), (-1.55, 21), align=None)
    extrude(amount=-CUT_EXTRUDE5_DEPTH, mode=Mode.SUBTRACT)

    # Sketch11 → Cut-Extrude6 (cut, up to next)
    with BuildSketch(Plane(origin=(0, 0, 0), x_dir=(-1, 0, 0), z_dir=(0, 0, -1)), mode=Mode.PRIVATE) as cut_extrude6_sk1:
        Polygon((24.3, 23.549969474), (24.6, 5.974018531), (19.8, 5.974018531), (20.1, 30.243837205), align=None)
    cut_extrude6_tool1 = extrude(cut_extrude6_sk1.sketch, amount=-CUT_EXTRUDE6_REACH, mode=Mode.PRIVATE) & part.part
    add(cut_extrude6_tool1.solids().sort_by_distance((-22.072028, 16.298165, 0))[0], mode=Mode.SUBTRACT)


solid = part.part
